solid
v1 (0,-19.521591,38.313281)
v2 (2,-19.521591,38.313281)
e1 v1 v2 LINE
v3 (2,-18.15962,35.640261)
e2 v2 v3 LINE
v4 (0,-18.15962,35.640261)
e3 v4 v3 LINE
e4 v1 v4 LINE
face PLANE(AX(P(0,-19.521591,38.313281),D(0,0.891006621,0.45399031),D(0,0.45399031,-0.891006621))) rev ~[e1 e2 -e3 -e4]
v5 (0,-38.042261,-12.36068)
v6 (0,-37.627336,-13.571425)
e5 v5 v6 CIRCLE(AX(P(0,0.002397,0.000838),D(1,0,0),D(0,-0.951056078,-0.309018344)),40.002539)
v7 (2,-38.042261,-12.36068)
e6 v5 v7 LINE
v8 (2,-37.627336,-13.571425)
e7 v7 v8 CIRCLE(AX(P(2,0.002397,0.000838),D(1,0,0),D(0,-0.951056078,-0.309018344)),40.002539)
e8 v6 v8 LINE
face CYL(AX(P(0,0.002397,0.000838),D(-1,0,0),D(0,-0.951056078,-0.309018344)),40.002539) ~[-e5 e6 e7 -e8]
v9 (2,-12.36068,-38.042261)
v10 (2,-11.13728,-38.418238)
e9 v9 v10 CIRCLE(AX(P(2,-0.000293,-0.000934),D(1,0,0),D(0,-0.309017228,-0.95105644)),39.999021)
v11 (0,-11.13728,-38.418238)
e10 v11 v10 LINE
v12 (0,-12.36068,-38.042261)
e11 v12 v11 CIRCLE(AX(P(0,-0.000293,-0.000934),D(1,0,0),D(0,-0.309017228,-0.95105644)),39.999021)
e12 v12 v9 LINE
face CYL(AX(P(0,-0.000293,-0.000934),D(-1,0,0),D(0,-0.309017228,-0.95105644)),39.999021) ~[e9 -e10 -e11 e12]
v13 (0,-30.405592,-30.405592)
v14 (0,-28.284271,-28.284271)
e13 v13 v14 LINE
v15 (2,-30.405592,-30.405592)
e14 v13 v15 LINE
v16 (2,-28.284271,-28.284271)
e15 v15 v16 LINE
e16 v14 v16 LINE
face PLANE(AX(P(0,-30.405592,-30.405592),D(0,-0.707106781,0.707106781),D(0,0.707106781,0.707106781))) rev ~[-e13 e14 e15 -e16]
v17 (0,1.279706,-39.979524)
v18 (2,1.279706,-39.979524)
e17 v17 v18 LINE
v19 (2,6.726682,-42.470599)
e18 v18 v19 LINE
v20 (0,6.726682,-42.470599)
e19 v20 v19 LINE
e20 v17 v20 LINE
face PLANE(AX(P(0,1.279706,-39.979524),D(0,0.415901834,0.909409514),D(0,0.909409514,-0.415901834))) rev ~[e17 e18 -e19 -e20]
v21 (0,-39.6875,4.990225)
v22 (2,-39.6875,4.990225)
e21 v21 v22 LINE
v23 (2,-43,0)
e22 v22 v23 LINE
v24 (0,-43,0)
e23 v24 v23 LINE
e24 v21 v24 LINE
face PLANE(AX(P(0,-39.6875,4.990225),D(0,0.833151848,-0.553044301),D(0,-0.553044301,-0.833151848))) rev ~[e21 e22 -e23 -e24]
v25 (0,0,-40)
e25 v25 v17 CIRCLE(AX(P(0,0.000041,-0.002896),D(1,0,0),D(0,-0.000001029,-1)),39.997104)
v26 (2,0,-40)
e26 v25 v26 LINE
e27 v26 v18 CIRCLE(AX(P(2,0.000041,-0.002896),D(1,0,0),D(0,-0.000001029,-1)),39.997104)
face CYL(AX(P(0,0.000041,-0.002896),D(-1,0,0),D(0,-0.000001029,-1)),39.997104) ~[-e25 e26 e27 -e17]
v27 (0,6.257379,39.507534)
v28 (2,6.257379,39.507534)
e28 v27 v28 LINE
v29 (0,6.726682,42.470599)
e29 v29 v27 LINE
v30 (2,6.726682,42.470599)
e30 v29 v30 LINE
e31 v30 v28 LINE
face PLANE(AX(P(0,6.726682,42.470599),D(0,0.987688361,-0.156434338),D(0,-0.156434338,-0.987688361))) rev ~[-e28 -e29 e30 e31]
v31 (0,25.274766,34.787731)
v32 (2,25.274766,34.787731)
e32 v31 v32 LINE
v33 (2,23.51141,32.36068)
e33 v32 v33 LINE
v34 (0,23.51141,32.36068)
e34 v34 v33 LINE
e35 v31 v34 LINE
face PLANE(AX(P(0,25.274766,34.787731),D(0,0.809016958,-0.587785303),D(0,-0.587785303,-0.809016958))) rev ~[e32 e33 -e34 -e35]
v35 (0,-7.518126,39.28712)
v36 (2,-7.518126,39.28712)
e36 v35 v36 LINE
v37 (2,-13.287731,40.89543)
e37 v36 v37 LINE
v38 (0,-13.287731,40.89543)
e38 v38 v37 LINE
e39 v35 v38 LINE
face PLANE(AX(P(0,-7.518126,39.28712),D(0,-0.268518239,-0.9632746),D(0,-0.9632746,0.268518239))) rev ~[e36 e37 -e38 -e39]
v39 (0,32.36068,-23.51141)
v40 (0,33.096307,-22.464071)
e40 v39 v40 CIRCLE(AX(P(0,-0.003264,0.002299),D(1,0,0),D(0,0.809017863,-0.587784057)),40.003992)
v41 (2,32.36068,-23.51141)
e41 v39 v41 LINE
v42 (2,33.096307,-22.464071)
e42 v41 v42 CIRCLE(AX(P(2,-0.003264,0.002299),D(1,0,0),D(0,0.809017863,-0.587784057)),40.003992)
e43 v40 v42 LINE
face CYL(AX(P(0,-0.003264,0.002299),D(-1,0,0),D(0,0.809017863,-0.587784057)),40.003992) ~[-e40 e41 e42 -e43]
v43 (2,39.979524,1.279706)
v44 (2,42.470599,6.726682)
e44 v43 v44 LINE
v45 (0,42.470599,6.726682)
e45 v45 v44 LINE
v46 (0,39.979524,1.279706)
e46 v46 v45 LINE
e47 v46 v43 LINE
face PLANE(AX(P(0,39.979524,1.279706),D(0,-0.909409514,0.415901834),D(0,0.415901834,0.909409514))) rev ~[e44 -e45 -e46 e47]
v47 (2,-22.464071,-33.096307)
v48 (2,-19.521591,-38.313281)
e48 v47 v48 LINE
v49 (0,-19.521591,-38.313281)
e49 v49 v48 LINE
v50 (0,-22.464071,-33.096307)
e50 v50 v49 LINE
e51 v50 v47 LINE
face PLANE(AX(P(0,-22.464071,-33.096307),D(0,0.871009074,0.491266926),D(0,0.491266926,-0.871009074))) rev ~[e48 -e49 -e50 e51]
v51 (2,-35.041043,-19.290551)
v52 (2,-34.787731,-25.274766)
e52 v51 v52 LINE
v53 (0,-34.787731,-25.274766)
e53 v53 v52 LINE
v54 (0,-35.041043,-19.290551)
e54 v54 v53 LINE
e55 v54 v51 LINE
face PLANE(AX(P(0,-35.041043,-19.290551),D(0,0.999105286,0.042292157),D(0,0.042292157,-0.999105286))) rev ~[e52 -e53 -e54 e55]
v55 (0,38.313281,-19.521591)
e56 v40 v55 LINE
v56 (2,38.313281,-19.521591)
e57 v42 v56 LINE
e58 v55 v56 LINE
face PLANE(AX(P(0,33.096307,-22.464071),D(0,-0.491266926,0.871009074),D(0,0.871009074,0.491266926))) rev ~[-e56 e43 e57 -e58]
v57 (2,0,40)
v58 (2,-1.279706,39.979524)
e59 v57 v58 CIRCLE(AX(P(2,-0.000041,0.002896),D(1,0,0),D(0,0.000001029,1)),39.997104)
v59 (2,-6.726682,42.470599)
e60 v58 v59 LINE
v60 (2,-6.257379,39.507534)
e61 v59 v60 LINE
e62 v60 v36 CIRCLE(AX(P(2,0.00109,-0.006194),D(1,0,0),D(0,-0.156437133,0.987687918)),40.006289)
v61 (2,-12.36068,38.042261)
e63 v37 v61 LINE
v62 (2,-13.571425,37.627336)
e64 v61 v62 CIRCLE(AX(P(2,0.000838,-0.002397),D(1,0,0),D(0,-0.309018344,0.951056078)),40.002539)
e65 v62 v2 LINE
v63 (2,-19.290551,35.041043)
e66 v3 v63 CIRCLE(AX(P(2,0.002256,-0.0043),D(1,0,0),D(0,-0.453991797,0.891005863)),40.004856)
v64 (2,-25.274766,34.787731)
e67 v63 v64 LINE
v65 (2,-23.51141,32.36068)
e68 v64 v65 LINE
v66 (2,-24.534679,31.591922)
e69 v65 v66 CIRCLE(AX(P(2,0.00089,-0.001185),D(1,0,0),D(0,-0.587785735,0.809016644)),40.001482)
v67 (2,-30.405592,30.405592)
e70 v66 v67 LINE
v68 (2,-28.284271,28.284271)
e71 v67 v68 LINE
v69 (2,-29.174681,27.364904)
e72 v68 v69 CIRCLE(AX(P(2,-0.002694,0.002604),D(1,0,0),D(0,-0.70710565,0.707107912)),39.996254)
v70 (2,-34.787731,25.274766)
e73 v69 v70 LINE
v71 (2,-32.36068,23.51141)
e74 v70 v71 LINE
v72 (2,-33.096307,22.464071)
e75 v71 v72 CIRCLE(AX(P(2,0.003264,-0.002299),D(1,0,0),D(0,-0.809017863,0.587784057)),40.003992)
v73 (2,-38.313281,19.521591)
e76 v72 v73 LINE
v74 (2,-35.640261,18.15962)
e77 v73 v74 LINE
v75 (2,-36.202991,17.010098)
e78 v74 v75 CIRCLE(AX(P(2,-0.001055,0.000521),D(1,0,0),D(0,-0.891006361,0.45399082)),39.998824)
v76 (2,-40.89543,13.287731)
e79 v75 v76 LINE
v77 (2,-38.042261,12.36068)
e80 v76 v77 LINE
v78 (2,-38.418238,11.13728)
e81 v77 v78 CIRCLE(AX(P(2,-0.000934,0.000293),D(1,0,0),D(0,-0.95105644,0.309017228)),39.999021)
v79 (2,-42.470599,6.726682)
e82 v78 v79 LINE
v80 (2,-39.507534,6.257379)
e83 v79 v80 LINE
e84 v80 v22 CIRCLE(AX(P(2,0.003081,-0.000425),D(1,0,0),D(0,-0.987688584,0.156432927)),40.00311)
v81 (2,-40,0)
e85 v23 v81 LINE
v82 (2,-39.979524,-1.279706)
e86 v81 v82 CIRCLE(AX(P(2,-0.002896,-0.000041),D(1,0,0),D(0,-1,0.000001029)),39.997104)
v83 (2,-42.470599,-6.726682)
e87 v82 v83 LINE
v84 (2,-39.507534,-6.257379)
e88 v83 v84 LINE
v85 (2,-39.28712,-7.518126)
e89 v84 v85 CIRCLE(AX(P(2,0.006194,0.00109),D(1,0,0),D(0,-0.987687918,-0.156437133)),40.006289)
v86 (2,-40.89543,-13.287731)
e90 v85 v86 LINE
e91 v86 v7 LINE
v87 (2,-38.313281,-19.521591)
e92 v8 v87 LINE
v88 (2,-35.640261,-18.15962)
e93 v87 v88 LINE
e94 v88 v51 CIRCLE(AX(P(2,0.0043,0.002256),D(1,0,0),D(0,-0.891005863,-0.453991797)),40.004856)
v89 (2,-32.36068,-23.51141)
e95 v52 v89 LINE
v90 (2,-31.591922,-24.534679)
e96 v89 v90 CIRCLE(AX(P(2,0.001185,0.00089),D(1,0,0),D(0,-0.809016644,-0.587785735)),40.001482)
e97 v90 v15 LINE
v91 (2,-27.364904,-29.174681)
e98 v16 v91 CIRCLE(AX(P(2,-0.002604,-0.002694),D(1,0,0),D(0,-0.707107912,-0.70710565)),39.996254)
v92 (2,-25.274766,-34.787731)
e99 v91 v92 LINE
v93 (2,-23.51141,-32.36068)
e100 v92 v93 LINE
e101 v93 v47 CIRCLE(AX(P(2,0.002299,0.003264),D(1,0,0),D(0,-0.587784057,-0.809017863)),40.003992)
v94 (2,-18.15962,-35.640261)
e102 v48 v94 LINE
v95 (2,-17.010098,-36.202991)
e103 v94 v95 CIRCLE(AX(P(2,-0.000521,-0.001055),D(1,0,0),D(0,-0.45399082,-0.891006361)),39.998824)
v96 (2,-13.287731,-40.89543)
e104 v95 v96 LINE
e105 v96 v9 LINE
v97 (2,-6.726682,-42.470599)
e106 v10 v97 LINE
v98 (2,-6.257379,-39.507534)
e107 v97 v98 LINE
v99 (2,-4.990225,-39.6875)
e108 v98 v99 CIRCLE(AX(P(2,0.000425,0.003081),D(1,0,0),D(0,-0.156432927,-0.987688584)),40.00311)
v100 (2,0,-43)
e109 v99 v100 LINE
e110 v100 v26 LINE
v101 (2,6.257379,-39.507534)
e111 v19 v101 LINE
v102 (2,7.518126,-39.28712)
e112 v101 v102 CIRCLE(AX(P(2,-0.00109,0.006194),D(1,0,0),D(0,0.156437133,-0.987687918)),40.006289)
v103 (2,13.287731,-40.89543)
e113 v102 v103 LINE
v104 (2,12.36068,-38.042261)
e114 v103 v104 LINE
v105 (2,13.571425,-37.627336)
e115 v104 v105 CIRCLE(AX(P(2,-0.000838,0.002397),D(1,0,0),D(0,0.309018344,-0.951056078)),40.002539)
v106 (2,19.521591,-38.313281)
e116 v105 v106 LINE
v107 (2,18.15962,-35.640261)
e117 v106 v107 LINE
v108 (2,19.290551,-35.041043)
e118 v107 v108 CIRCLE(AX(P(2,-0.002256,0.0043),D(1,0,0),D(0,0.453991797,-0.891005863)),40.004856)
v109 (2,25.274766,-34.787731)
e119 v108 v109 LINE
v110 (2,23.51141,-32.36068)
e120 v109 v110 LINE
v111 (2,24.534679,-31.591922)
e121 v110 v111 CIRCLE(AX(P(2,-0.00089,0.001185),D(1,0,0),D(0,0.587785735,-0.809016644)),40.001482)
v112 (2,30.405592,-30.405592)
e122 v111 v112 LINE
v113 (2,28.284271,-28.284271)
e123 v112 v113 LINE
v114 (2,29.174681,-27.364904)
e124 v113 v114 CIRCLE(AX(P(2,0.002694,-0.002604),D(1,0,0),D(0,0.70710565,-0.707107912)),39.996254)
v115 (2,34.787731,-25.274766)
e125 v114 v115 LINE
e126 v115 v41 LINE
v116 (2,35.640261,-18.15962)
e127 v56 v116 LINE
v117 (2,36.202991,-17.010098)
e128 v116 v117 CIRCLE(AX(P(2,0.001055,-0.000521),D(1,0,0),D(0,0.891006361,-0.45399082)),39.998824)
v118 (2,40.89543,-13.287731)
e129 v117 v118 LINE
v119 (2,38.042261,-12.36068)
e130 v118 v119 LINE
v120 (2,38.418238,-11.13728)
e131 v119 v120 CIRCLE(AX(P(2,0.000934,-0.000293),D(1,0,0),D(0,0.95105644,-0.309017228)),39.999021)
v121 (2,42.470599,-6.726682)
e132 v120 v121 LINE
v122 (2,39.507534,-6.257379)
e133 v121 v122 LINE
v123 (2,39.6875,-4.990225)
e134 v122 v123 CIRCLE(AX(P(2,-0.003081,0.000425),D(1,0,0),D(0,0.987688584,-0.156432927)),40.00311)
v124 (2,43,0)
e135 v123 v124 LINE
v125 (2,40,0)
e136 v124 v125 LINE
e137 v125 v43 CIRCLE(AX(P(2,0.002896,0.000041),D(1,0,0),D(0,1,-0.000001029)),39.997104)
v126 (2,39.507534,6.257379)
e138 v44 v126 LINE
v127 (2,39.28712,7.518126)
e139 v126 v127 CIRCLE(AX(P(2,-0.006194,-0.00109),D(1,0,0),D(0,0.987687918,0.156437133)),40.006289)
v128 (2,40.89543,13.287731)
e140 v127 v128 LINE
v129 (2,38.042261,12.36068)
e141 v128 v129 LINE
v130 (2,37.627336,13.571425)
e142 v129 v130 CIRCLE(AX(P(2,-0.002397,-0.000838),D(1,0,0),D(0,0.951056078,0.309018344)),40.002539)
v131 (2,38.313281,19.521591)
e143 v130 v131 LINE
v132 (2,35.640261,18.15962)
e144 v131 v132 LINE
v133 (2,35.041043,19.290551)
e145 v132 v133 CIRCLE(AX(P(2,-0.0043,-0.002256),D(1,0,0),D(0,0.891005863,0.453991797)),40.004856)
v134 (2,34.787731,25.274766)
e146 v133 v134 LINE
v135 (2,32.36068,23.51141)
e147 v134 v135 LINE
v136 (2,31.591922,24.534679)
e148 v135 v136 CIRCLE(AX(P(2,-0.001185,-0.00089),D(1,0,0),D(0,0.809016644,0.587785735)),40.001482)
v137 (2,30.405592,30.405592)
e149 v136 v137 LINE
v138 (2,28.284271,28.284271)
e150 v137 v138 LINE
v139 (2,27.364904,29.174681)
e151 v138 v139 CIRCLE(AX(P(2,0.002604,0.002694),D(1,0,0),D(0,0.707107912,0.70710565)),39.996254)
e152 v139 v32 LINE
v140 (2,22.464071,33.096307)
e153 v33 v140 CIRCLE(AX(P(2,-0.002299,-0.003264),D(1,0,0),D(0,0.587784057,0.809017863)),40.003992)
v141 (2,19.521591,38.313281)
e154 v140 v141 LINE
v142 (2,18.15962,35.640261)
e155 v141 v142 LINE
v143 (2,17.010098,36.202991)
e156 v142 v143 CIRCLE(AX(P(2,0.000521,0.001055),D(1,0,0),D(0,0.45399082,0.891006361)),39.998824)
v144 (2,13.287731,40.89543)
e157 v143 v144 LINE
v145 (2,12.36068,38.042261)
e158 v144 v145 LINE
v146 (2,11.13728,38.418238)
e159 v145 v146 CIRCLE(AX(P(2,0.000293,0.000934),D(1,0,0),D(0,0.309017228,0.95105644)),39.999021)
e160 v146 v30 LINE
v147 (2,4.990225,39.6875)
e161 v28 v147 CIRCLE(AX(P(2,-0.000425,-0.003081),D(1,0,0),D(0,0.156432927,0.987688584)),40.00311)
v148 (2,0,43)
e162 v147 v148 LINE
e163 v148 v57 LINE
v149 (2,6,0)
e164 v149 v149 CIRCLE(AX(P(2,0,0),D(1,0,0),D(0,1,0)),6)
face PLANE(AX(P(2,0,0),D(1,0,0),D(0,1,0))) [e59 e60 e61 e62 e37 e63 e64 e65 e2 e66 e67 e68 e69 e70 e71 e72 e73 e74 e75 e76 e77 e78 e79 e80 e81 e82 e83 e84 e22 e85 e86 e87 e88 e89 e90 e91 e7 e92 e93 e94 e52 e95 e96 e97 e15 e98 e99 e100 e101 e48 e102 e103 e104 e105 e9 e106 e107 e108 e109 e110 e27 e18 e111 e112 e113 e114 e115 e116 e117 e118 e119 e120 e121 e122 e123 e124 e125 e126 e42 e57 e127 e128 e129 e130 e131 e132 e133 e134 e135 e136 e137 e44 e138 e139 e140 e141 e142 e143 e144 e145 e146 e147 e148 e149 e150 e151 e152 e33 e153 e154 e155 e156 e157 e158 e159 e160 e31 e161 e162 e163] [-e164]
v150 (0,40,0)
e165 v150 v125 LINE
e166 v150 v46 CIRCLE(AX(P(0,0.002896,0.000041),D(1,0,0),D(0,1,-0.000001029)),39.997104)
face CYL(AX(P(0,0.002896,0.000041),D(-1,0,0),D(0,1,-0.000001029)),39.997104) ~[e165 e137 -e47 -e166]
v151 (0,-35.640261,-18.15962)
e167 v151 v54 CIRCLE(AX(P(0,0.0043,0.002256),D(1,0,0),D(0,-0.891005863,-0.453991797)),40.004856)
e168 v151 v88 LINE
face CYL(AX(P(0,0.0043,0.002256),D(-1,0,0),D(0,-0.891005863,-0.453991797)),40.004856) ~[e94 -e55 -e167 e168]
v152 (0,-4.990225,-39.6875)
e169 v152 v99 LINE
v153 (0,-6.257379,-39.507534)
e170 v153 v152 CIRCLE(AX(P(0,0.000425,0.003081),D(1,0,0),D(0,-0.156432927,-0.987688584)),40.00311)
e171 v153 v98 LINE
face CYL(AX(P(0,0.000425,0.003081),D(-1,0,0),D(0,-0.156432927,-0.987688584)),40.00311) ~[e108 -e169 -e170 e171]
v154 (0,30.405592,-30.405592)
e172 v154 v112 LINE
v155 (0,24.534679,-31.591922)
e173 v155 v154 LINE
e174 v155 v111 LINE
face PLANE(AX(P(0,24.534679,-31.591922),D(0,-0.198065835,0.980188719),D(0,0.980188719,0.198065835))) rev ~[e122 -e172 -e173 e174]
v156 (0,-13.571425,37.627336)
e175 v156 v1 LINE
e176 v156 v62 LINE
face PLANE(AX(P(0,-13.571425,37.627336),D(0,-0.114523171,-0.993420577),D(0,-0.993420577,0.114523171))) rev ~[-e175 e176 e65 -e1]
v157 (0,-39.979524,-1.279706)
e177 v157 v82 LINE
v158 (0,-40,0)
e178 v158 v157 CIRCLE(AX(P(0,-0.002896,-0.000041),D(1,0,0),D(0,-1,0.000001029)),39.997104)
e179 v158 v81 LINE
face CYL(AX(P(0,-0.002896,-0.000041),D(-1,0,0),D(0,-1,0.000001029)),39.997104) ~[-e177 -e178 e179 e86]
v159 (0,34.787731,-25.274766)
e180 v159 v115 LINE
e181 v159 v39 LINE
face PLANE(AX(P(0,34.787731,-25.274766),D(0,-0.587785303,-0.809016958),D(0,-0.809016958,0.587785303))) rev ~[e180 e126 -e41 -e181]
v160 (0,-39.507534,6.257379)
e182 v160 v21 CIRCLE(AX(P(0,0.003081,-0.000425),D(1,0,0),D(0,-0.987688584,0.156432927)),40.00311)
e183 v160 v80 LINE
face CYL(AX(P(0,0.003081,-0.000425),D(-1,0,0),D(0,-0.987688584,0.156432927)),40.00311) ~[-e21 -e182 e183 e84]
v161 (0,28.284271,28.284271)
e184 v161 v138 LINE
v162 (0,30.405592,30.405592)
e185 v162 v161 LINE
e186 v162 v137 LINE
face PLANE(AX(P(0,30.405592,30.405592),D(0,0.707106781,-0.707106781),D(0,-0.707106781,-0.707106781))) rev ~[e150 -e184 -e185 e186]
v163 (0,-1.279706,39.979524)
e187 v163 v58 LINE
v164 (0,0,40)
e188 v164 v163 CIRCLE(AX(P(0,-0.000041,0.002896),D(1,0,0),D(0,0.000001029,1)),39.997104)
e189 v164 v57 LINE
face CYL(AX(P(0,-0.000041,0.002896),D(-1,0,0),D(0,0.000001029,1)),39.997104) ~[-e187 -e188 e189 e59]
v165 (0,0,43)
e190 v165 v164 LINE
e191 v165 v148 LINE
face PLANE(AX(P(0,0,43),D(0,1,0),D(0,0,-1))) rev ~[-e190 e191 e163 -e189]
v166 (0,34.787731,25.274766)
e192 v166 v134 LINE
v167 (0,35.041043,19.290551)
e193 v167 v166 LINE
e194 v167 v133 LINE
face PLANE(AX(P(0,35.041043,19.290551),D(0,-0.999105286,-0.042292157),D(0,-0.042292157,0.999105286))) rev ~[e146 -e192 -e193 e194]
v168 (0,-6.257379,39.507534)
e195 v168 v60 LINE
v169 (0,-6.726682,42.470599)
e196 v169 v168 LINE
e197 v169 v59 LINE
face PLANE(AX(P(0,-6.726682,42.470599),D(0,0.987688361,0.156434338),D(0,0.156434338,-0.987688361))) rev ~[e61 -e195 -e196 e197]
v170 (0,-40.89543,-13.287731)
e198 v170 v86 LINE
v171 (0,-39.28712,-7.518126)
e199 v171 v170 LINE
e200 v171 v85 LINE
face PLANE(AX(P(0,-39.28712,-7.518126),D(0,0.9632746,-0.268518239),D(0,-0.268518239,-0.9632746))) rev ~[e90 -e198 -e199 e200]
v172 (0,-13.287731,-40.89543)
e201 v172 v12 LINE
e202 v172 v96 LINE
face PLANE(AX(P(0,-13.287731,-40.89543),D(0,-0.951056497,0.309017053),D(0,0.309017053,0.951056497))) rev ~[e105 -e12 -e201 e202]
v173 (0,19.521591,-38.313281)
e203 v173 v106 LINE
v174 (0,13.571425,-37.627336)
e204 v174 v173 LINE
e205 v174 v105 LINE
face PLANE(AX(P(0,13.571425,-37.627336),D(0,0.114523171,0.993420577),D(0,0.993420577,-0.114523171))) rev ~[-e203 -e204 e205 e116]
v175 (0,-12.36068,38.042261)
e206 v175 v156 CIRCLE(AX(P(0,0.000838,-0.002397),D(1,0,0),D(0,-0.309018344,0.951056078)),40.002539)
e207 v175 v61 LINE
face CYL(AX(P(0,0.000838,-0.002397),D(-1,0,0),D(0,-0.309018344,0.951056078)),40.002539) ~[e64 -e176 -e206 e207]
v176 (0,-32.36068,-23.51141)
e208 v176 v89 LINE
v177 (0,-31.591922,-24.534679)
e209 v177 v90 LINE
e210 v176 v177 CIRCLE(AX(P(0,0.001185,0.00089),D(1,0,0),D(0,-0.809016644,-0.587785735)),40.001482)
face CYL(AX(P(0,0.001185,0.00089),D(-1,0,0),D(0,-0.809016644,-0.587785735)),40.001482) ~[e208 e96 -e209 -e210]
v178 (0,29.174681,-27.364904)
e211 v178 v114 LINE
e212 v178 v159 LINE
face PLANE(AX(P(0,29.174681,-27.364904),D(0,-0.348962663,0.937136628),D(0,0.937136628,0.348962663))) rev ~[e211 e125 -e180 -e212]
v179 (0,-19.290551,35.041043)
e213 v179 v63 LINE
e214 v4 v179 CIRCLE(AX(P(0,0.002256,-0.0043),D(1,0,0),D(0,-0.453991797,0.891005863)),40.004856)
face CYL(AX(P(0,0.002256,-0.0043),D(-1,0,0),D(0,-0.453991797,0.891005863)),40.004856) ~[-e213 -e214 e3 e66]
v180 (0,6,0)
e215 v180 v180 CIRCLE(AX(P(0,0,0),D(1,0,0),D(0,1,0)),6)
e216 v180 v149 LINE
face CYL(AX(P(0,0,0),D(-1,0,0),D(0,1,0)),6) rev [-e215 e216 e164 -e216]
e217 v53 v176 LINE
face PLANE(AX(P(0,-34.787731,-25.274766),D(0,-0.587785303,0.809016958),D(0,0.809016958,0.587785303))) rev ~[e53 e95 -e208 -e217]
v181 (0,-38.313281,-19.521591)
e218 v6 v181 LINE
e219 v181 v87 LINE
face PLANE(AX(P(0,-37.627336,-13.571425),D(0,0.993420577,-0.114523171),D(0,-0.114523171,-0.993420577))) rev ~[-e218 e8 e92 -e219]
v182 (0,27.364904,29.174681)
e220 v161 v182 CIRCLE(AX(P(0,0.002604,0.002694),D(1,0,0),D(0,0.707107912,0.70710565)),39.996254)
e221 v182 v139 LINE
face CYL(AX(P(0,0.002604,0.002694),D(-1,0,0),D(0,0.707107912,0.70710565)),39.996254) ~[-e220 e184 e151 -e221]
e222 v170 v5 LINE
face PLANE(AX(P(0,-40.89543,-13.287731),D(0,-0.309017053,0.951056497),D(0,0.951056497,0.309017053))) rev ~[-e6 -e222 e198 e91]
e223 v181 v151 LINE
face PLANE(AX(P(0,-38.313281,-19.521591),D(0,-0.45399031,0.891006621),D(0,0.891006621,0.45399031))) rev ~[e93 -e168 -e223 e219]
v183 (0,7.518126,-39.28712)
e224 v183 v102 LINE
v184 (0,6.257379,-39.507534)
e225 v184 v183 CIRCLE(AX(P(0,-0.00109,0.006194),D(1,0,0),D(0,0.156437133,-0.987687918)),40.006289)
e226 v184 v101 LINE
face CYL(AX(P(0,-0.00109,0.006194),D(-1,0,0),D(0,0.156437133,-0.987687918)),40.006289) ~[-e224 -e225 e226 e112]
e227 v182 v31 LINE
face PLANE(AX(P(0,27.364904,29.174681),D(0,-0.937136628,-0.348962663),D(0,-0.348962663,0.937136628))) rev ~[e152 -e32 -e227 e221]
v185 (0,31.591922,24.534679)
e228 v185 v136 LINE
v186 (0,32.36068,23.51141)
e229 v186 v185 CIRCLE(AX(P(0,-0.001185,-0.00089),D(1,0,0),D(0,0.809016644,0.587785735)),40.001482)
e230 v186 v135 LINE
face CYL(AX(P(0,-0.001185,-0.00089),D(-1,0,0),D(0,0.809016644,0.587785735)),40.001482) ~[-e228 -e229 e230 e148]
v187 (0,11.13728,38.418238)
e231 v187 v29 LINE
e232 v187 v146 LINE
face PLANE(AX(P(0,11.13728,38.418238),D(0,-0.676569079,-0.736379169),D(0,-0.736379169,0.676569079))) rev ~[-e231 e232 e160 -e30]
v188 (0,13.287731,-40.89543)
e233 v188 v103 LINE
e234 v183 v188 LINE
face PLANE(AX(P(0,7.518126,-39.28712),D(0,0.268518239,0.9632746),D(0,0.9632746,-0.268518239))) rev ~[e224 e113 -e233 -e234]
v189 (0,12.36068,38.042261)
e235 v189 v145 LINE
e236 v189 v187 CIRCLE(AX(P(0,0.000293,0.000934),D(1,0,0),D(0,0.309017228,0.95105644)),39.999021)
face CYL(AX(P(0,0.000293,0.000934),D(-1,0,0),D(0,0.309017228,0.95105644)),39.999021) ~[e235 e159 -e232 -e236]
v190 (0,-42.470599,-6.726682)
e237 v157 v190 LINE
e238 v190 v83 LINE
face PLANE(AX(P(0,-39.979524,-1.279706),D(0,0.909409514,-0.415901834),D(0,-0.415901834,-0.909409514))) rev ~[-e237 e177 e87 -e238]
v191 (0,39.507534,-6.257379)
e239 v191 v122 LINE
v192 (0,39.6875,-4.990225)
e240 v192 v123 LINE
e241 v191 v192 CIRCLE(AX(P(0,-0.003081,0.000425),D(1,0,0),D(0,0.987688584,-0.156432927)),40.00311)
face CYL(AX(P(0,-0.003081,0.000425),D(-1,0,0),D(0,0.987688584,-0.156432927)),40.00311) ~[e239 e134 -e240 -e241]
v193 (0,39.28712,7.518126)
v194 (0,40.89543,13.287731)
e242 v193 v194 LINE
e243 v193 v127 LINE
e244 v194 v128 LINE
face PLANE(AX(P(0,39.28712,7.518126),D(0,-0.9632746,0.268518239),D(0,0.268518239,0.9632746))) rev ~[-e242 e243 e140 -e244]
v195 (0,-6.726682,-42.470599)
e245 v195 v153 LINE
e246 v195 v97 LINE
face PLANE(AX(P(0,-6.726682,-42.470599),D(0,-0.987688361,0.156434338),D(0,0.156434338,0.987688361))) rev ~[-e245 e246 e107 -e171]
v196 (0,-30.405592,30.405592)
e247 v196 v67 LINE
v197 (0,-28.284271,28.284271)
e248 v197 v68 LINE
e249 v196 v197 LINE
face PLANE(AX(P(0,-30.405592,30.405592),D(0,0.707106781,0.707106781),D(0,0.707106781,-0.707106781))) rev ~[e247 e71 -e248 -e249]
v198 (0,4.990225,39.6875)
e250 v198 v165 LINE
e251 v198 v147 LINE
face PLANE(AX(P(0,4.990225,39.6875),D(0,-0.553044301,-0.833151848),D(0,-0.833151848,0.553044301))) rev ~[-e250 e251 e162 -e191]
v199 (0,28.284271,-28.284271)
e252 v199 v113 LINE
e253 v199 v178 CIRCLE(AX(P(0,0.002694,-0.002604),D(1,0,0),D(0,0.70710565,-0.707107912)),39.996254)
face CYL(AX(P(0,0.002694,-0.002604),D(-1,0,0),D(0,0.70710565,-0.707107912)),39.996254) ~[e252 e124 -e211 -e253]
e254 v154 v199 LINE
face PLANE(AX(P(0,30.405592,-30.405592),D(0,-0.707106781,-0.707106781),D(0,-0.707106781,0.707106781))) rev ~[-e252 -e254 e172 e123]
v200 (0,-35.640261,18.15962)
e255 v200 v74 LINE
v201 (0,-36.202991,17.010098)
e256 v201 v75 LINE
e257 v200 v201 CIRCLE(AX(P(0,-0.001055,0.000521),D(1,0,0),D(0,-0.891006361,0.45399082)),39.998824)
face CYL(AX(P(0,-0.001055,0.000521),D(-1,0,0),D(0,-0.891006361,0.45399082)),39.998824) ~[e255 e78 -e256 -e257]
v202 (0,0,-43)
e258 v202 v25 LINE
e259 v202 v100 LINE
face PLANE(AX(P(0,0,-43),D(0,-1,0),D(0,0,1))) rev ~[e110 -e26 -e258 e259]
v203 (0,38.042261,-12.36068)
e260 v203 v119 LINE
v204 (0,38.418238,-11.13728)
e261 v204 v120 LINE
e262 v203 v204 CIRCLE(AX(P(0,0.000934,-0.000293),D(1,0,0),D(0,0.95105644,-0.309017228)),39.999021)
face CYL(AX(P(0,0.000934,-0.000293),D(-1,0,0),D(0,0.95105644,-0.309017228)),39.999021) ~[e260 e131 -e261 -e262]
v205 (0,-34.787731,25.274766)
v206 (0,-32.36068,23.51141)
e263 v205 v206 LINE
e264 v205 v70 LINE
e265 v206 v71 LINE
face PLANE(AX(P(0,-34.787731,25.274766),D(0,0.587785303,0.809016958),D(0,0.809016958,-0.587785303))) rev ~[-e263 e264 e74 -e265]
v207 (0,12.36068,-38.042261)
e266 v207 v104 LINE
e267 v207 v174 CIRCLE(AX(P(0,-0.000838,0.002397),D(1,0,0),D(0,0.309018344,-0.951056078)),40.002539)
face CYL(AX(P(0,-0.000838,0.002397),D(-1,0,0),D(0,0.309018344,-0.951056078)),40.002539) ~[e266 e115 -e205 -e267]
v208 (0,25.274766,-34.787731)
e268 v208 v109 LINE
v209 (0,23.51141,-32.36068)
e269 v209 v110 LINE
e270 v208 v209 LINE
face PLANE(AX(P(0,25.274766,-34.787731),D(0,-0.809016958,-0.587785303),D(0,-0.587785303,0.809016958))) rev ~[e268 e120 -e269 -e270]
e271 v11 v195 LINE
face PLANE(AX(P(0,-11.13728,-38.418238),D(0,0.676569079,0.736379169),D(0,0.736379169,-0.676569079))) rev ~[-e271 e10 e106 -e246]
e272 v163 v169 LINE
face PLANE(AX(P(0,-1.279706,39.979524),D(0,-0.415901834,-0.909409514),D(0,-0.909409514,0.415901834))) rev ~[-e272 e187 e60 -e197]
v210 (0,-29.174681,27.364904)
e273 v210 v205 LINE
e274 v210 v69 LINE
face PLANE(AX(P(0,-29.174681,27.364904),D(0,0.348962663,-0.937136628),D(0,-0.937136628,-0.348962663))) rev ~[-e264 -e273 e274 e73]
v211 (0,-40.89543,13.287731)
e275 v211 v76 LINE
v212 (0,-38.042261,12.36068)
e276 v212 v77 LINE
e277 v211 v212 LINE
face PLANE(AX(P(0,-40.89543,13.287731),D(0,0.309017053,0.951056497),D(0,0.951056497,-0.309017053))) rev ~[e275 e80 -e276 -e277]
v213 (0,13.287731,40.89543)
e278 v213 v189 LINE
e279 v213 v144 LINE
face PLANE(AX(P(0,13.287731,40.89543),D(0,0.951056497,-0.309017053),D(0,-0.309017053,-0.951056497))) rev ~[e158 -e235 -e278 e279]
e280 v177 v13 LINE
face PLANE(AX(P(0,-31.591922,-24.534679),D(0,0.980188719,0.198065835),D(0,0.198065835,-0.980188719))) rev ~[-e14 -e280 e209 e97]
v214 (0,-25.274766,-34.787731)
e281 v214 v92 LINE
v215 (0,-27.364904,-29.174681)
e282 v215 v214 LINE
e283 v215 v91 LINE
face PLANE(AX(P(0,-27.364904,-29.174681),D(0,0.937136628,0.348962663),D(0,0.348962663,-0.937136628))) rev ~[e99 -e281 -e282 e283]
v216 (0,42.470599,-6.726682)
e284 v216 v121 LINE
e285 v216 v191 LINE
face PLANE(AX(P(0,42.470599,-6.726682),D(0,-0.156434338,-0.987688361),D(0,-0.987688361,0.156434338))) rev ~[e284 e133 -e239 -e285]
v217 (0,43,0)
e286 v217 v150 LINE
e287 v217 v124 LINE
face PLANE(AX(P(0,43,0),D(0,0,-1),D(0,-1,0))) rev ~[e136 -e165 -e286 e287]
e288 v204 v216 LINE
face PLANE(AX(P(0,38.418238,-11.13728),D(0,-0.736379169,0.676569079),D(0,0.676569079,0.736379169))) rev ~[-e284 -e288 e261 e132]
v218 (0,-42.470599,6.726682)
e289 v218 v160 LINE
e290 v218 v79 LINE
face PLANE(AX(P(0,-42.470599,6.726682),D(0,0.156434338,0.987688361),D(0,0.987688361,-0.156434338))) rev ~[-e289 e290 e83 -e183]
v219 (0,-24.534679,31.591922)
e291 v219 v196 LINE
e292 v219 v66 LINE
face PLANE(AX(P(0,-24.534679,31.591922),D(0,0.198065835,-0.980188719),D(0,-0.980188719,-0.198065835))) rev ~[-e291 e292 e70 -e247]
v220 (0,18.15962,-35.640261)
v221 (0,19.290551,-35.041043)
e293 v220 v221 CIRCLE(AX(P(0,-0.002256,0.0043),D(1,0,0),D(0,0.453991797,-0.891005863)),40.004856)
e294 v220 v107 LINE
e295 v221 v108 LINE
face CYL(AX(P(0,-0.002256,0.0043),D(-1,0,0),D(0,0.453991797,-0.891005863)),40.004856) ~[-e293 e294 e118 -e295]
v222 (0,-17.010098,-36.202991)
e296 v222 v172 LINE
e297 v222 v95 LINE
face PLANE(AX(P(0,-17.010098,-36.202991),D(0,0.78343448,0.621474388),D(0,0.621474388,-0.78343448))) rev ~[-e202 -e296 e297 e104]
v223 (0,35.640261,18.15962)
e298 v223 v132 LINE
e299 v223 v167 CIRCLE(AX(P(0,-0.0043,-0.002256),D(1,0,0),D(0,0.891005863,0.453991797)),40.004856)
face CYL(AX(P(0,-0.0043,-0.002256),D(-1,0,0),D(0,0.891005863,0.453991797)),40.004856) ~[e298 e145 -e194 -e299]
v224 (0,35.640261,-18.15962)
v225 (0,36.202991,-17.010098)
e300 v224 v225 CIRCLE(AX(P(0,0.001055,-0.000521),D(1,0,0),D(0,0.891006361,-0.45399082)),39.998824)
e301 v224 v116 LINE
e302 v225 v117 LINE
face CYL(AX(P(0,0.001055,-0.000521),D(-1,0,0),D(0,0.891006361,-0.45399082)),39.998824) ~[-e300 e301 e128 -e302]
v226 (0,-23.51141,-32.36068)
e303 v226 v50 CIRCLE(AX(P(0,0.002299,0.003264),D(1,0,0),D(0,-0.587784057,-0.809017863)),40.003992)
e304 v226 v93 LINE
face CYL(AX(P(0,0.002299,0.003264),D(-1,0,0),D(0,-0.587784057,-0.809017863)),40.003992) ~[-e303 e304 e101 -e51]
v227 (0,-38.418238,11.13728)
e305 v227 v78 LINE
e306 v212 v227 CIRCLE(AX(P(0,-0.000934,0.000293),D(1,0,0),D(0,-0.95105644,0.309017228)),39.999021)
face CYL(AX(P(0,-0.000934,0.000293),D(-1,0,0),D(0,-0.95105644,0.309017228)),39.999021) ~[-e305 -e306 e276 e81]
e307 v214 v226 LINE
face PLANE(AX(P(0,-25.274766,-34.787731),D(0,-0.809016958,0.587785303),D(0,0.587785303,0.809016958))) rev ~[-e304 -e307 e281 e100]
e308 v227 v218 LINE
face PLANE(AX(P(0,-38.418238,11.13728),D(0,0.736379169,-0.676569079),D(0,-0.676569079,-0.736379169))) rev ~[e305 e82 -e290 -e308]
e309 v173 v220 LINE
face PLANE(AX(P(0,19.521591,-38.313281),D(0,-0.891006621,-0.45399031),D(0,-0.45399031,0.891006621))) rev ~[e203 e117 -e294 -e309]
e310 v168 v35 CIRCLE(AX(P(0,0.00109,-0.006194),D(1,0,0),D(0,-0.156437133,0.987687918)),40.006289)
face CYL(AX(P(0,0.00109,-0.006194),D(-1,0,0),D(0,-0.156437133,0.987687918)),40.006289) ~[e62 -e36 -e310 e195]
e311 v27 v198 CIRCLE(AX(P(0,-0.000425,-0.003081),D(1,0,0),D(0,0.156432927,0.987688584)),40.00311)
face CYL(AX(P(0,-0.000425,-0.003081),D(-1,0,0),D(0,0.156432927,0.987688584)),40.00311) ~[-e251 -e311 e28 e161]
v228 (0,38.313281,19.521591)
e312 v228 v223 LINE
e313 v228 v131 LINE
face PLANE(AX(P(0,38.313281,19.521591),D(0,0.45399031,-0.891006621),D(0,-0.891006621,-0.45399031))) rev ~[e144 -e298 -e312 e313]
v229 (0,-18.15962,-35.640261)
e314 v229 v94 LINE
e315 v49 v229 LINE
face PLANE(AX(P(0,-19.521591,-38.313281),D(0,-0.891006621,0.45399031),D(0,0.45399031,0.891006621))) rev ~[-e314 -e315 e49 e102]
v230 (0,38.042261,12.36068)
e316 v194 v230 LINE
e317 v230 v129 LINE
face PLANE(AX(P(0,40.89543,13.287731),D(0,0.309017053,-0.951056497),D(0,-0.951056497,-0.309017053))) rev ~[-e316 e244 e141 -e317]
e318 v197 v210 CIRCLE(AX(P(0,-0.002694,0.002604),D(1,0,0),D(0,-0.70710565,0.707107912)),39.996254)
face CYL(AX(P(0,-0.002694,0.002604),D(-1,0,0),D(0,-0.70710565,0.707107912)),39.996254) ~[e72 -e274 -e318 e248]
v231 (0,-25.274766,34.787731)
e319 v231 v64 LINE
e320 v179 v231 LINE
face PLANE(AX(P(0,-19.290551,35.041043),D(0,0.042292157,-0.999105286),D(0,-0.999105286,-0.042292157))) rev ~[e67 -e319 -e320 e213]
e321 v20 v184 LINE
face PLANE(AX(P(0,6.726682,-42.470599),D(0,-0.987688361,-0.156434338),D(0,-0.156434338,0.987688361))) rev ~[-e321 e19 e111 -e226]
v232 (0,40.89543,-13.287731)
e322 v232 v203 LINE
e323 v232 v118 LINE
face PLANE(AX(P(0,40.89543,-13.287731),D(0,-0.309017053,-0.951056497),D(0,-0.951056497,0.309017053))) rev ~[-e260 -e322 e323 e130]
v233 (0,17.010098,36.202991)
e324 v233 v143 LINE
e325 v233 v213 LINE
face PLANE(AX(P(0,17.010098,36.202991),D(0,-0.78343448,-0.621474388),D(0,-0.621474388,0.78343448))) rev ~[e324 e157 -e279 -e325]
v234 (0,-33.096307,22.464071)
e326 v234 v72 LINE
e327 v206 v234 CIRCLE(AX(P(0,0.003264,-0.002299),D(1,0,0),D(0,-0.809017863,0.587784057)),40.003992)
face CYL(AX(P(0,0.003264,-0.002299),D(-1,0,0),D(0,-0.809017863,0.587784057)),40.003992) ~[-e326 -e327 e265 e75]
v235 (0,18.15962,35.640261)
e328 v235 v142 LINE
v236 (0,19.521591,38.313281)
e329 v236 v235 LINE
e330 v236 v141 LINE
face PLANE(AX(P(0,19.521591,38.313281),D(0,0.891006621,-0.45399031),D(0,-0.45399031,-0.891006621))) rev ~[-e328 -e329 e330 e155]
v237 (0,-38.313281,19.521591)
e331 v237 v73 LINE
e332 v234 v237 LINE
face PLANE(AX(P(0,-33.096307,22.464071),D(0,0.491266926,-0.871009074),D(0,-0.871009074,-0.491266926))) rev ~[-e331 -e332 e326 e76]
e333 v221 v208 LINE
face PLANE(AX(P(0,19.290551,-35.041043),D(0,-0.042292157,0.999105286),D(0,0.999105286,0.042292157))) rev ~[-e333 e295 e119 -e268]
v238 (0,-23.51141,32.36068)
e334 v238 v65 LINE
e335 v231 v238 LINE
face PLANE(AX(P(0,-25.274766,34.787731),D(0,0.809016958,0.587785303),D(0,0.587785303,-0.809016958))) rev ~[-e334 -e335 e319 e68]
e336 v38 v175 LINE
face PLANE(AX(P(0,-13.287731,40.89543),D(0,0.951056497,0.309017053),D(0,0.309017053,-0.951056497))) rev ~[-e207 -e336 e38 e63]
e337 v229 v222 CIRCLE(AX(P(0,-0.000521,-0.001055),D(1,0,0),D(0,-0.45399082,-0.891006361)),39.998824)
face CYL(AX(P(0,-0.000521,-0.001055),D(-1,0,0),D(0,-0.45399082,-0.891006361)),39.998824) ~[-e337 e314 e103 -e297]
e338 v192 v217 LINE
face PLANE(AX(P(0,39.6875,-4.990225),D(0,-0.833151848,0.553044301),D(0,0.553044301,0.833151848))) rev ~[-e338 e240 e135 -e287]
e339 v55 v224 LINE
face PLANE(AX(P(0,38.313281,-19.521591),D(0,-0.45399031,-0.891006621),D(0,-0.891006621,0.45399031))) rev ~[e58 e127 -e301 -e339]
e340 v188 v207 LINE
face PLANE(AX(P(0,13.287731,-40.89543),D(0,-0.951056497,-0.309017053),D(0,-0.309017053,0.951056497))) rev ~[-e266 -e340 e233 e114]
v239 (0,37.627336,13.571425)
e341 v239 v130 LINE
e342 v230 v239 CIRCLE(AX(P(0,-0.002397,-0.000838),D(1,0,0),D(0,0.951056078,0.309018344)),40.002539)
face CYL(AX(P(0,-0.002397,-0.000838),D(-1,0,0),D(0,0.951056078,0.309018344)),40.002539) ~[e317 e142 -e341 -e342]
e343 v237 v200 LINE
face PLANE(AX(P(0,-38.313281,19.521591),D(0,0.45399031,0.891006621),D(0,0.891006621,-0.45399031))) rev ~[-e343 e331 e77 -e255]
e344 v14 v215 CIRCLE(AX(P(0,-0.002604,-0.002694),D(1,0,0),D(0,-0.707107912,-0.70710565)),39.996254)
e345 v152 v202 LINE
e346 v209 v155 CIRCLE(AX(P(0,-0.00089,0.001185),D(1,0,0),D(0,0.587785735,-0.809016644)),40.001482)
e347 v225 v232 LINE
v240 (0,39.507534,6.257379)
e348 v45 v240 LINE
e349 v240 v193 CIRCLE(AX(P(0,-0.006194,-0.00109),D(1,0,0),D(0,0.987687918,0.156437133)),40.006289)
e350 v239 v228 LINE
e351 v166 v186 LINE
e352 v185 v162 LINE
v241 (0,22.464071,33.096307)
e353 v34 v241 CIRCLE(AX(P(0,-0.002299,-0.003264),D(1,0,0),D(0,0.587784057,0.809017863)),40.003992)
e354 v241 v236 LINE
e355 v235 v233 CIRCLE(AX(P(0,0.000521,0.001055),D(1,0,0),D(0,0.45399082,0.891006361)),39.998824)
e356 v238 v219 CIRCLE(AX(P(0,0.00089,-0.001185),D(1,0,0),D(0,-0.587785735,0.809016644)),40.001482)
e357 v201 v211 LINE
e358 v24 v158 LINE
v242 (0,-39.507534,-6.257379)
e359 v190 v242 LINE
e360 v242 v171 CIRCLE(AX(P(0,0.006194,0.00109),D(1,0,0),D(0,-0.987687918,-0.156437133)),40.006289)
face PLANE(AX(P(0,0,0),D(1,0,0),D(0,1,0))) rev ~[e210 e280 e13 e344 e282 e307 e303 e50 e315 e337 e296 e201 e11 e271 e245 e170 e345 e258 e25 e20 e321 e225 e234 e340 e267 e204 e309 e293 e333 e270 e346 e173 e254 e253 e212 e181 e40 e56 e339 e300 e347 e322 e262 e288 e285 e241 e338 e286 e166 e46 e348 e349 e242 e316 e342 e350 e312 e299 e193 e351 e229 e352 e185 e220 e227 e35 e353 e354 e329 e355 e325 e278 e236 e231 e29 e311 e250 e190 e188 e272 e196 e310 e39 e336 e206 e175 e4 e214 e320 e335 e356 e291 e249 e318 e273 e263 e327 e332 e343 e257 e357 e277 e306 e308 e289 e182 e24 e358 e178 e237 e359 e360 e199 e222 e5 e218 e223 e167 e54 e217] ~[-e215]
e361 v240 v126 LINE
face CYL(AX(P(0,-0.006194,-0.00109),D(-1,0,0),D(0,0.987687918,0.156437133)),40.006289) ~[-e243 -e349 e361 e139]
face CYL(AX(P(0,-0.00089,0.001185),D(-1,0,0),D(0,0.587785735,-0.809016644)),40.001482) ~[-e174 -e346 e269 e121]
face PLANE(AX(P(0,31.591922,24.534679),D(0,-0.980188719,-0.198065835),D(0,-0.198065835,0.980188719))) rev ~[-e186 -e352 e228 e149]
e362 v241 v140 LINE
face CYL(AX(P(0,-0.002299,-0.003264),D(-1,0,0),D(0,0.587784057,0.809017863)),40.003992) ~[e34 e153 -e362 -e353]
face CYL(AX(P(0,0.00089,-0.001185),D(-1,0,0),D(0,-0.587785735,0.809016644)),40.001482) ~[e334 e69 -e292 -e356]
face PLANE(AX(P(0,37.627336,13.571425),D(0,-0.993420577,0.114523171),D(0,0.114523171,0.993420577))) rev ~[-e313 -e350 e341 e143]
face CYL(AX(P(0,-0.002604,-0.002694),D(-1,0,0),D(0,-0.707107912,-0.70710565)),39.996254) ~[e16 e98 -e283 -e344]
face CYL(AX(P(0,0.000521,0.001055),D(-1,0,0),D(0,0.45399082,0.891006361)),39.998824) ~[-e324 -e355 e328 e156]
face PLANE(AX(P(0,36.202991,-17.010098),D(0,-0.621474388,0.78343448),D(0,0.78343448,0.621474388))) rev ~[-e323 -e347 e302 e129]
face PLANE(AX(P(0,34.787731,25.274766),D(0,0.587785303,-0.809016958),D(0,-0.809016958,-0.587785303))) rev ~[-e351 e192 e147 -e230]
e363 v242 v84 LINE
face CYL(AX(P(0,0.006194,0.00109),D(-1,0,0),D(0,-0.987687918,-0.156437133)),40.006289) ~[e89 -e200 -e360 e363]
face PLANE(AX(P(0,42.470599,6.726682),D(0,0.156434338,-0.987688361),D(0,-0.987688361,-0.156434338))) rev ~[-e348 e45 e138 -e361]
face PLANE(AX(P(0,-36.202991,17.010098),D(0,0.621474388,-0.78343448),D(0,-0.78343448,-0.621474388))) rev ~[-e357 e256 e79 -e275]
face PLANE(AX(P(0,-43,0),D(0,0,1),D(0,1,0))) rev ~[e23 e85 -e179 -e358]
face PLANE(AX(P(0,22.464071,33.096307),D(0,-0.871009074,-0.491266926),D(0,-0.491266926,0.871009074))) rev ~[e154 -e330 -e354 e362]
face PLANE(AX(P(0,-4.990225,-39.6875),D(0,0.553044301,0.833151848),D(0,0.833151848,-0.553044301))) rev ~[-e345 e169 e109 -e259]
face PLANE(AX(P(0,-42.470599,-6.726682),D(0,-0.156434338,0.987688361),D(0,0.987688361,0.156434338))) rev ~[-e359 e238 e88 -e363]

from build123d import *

# Parameters (mm, degrees)
F0_R     = 6
F1_DEPTH = 2


with BuildPart() as f1:
    # F0 (on Right) → F1 (new body)
    with BuildSketch(Plane.YZ):
        with BuildLine():
            ThreePointArc((39.6875, -4.990225), (39.921799, -2.5), (40, 0))
            ThreePointArc((40, 0), (39.994881, 0.639935), (39.979524, 1.279706))
            ThreePointArc((39.979524, 1.279706), (39.821381, 3.775924), (39.507534, 6.257379))
            ThreePointArc((39.507534, 6.257379), (39.402369, 6.888634), (39.28712, 7.518126))
            ThreePointArc((39.28712, 7.518126), (38.740429, 9.958873), (38.042261, 12.36068))
            ThreePointArc((38.042261, 12.36068), (37.839641, 12.967712), (37.627336, 13.571425))
            ThreePointArc((37.627336, 13.571425), (36.705559, 15.896601), (35.640261, 18.15962))
            ThreePointArc((35.640261, 18.15962), (35.345175, 18.727482), (35.041043, 19.290551))
            ThreePointArc((35.041043, 19.290551), (33.766877, 21.442902), (32.36068, 23.51141))
            ThreePointArc((32.36068, 23.51141), (31.980394, 24.026119), (31.591922, 24.534679))
            ThreePointArc((31.591922, 24.534679), (29.996741, 26.461208), (28.284271, 28.284271))
            ThreePointArc((28.284271, 28.284271), (27.828149, 28.733154), (27.364904, 29.174681))
            ThreePointArc((27.364904, 29.174681), (25.487987, 30.82795), (23.51141, 32.36068))
            ThreePointArc((23.51141, 32.36068), (22.990683, 32.732682), (22.464071, 33.096307))
            ThreePointArc((22.464071, 33.096307), (20.351634, 34.435607), (18.15962, 35.640261))
            ThreePointArc((18.15962, 35.640261), (17.58711, 35.926224), (17.010098, 36.202991))
            ThreePointArc((17.010098, 36.202991), (14.714155, 37.195344), (12.36068, 38.042261))
            ThreePointArc((12.36068, 38.042261), (11.750484, 38.235143), (11.13728, 38.418238))
            ThreePointArc((11.13728, 38.418238), (8.714366, 39.039209), (6.257379, 39.507534))
            ThreePointArc((6.257379, 39.507534), (5.624522, 39.602585), (4.990225, 39.6875))
            ThreePointArc((4.990225, 39.6875), (2.5, 39.921799), (0, 40))
            ThreePointArc((0, 40), (-0.639935, 39.994881), (-1.279706, 39.979524))
            ThreePointArc((-1.279706, 39.979524), (-3.775924, 39.821381), (-6.257379, 39.507534))
            ThreePointArc((-6.257379, 39.507534), (-6.888634, 39.402369), (-7.518126, 39.28712))
            ThreePointArc((-7.518126, 39.28712), (-9.958873, 38.740429), (-12.36068, 38.042261))
            ThreePointArc((-12.36068, 38.042261), (-12.967712, 37.839641), (-13.571425, 37.627336))
            ThreePointArc((-13.571425, 37.627336), (-15.896601, 36.705559), (-18.15962, 35.640261))
            ThreePointArc((-18.15962, 35.640261), (-18.727482, 35.345175), (-19.290551, 35.041043))
            ThreePointArc((-19.290551, 35.041043), (-21.442902, 33.766877), (-23.51141, 32.36068))
            ThreePointArc((-23.51141, 32.36068), (-24.026119, 31.980394), (-24.534679, 31.591922))
            ThreePointArc((-24.534679, 31.591922), (-26.461208, 29.996741), (-28.284271, 28.284271))
            ThreePointArc((-28.284271, 28.284271), (-28.733154, 27.828149), (-29.174681, 27.364904))
            ThreePointArc((-29.174681, 27.364904), (-30.82795, 25.487987), (-32.36068, 23.51141))
            ThreePointArc((-32.36068, 23.51141), (-32.732682, 22.990683), (-33.096307, 22.464071))
            ThreePointArc((-33.096307, 22.464071), (-34.435607, 20.351634), (-35.640261, 18.15962))
            ThreePointArc((-35.640261, 18.15962), (-35.926224, 17.58711), (-36.202991, 17.010098))
            ThreePointArc((-36.202991, 17.010098), (-37.195344, 14.714155), (-38.042261, 12.36068))
            ThreePointArc((-38.042261, 12.36068), (-38.235143, 11.750484), (-38.418238, 11.13728))
            ThreePointArc((-38.418238, 11.13728), (-39.039209, 8.714366), (-39.507534, 6.257379))
            ThreePointArc((-39.507534, 6.257379), (-39.602585, 5.624522), (-39.6875, 4.990225))
            ThreePointArc((-39.6875, 4.990225), (-39.921799, 2.5), (-40, 0))
            ThreePointArc((-40, 0), (-39.994881, -0.639935), (-39.979524, -1.279706))
            ThreePointArc((-39.979524, -1.279706), (-39.821381, -3.775924), (-39.507534, -6.257379))
            ThreePointArc((-39.507534, -6.257379), (-39.402369, -6.888634), (-39.28712, -7.518126))
            ThreePointArc((-39.28712, -7.518126), (-38.740429, -9.958873), (-38.042261, -12.36068))
            ThreePointArc((-38.042261, -12.36068), (-37.839641, -12.967712), (-37.627336, -13.571425))
            ThreePointArc((-37.627336, -13.571425), (-36.705559, -15.896601), (-35.640261, -18.15962))
            ThreePointArc((-35.640261, -18.15962), (-35.345175, -18.727482), (-35.041043, -19.290551))
            ThreePointArc((-35.041043, -19.290551), (-33.766877, -21.442902), (-32.36068, -23.51141))
            ThreePointArc((-32.36068, -23.51141), (-31.980394, -24.026119), (-31.591922, -24.534679))
            ThreePointArc((-31.591922, -24.534679), (-29.996741, -26.461208), (-28.284271, -28.284271))
            ThreePointArc((-28.284271, -28.284271), (-27.828149, -28.733154), (-27.364904, -29.174681))
            ThreePointArc((-27.364904, -29.174681), (-25.487987, -30.82795), (-23.51141, -32.36068))
            ThreePointArc((-23.51141, -32.36068), (-22.990683, -32.732682), (-22.464071, -33.096307))
            ThreePointArc((-22.464071, -33.096307), (-20.351634, -34.435607), (-18.15962, -35.640261))
            ThreePointArc((-18.15962, -35.640261), (-17.58711, -35.926224), (-17.010098, -36.202991))
            ThreePointArc((-17.010098, -36.202991), (-14.714155, -37.195344), (-12.36068, -38.042261))
            ThreePointArc((-12.36068, -38.042261), (-11.750484, -38.235143), (-11.13728, -38.418238))
            ThreePointArc((-11.13728, -38.418238), (-8.714366, -39.039209), (-6.257379, -39.507534))
            ThreePointArc((-6.257379, -39.507534), (-5.624522, -39.602585), (-4.990225, -39.6875))
            ThreePointArc((-4.990225, -39.6875), (-2.5, -39.921799), (0, -40))
            ThreePointArc((0, -40), (0.639935, -39.994881), (1.279706, -39.979524))
            ThreePointArc((1.279706, -39.979524), (3.775924, -39.821381), (6.257379, -39.507534))
            ThreePointArc((6.257379, -39.507534), (6.888634, -39.402369), (7.518126, -39.28712))
            ThreePointArc((7.518126, -39.28712), (9.958873, -38.740429), (12.36068, -38.042261))
            ThreePointArc((12.36068, -38.042261), (12.967712, -37.839641), (13.571425, -37.627336))
            ThreePointArc((13.571425, -37.627336), (15.896601, -36.705559), (18.15962, -35.640261))
            ThreePointArc((18.15962, -35.640261), (18.727482, -35.345175), (19.290551, -35.041043))
            ThreePointArc((19.290551, -35.041043), (21.442902, -33.766877), (23.51141, -32.36068))
            ThreePointArc((23.51141, -32.36068), (24.026119, -31.980394), (24.534679, -31.591922))
            ThreePointArc((24.534679, -31.591922), (26.461208, -29.996741), (28.284271, -28.284271))
            ThreePointArc((28.284271, -28.284271), (28.733154, -27.828149), (29.174681, -27.364904))
            ThreePointArc((29.174681, -27.364904), (30.82795, -25.487987), (32.36068, -23.51141))
            ThreePointArc((32.36068, -23.51141), (32.732682, -22.990683), (33.096307, -22.464071))
            ThreePointArc((33.096307, -22.464071), (34.435607, -20.351634), (35.640261, -18.15962))
            ThreePointArc((35.640261, -18.15962), (35.926224, -17.58711), (36.202991, -17.010098))
            ThreePointArc((36.202991, -17.010098), (37.195344, -14.714155), (38.042261, -12.36068))
            ThreePointArc((38.042261, -12.36068), (38.235143, -11.750484), (38.418238, -11.13728))
            ThreePointArc((38.418238, -11.13728), (39.039209, -8.714366), (39.507534, -6.257379))
            ThreePointArc((39.507534, -6.257379), (39.602585, -5.624522), (39.6875, -4.990225))
        make_face()
        Circle(F0_R, mode=Mode.SUBTRACT)
        with BuildLine():
            Line((-19.521591, -38.313281), (-18.15962, -35.640261))
            ThreePointArc((-18.15962, -35.640261), (-20.351634, -34.435607), (-22.464071, -33.096307))
            Line((-22.464071, -33.096307), (-19.521591, -38.313281))
        make_face()
        with BuildLine():
            ThreePointArc((-40, 0), (-39.921799, 2.5), (-39.6875, 4.990225))
            Line((-39.6875, 4.990225), (-43, 0))
            Line((-43, 0), (-40, 0))
        make_face()
        with BuildLine():
            Line((34.787731, -25.274766), (32.36068, -23.51141))
            ThreePointArc((32.36068, -23.51141), (30.82795, -25.487987), (29.174681, -27.364904))
            Line((29.174681, -27.364904), (34.787731, -25.274766))
        make_face()
        with BuildLine():
            Line((-42.470599, -6.726682), (-39.507534, -6.257379))
            ThreePointArc((-39.507534, -6.257379), (-39.821381, -3.775924), (-39.979524, -1.279706))
            Line((-39.979524, -1.279706), (-42.470599, -6.726682))
        make_face()
        with BuildLine():
            Line((0, -43), (0, -40))
            ThreePointArc((0, -40), (-2.5, -39.921799), (-4.990225, -39.6875))
            Line((-4.990225, -39.6875), (0, -43))
        make_face()
        with BuildLine():
            Line((38.313281, -19.521591), (35.640261, -18.15962))
            ThreePointArc((35.640261, -18.15962), (34.435607, -20.351634), (33.096307, -22.464071))
            Line((33.096307, -22.464071), (38.313281, -19.521591))
        make_face()
        with BuildLine():
            Line((-13.287731, -40.89543), (-12.36068, -38.042261))
            ThreePointArc((-12.36068, -38.042261), (-14.714155, -37.195344), (-17.010098, -36.202991))
            Line((-17.010098, -36.202991), (-13.287731, -40.89543))
        make_face()
        with BuildLine():
            Line((-40.89543, -13.287731), (-38.042261, -12.36068))
            ThreePointArc((-38.042261, -12.36068), (-38.740429, -9.958873), (-39.28712, -7.518126))
            Line((-39.28712, -7.518126), (-40.89543, -13.287731))
        make_face()
        with BuildLine():
            Line((40.89543, -13.287731), (38.042261, -12.36068))
            ThreePointArc((38.042261, -12.36068), (37.195344, -14.714155), (36.202991, -17.010098))
            Line((36.202991, -17.010098), (40.89543, -13.287731))
        make_face()
        with BuildLine():
            Line((6.726682, -42.470599), (6.257379, -39.507534))
            ThreePointArc((6.257379, -39.507534), (3.775924, -39.821381), (1.279706, -39.979524))
            Line((1.279706, -39.979524), (6.726682, -42.470599))
        make_face()
        with BuildLine():
            Line((-6.726682, -42.470599), (-6.257379, -39.507534))
            ThreePointArc((-6.257379, -39.507534), (-8.714366, -39.039209), (-11.13728, -38.418238))
            Line((-11.13728, -38.418238), (-6.726682, -42.470599))
        make_face()
        with BuildLine():
            Line((42.470599, -6.726682), (39.507534, -6.257379))
            ThreePointArc((39.507534, -6.257379), (39.039209, -8.714366), (38.418238, -11.13728))
            Line((38.418238, -11.13728), (42.470599, -6.726682))
        make_face()
        with BuildLine():
            Line((-38.313281, -19.521591), (-35.640261, -18.15962))
            ThreePointArc((-35.640261, -18.15962), (-36.705559, -15.896601), (-37.627336, -13.571425))
            Line((-37.627336, -13.571425), (-38.313281, -19.521591))
        make_face()
        with BuildLine():
            ThreePointArc((-32.36068, 23.51141), (-30.82795, 25.487987), (-29.174681, 27.364904))
            Line((-29.174681, 27.364904), (-34.787731, 25.274766))
            Line((-34.787731, 25.274766), (-32.36068, 23.51141))
        make_face()
        with BuildLine():
            ThreePointArc((-23.51141, 32.36068), (-21.442902, 33.766877), (-19.290551, 35.041043))
            Line((-19.290551, 35.041043), (-25.274766, 34.787731))
            Line((-25.274766, 34.787731), (-23.51141, 32.36068))
        make_face()
        with BuildLine():
            ThreePointArc((-28.284271, 28.284271), (-26.461208, 29.996741), (-24.534679, 31.591922))
            Line((-24.534679, 31.591922), (-30.405592, 30.405592))
            Line((-30.405592, 30.405592), (-28.284271, 28.284271))
        make_face()
        with BuildLine():
            ThreePointArc((-35.640261, 18.15962), (-34.435607, 20.351634), (-33.096307, 22.464071))
            Line((-33.096307, 22.464071), (-38.313281, 19.521591))
            Line((-38.313281, 19.521591), (-35.640261, 18.15962))
        make_face()
        with BuildLine():
            Line((19.521591, -38.313281), (18.15962, -35.640261))
            ThreePointArc((18.15962, -35.640261), (15.896601, -36.705559), (13.571425, -37.627336))
            Line((13.571425, -37.627336), (19.521591, -38.313281))
        make_face()
        with BuildLine():
            ThreePointArc((39.507534, 6.257379), (39.821381, 3.775924), (39.979524, 1.279706))
            Line((39.979524, 1.279706), (42.470599, 6.726682))
            Line((42.470599, 6.726682), (39.507534, 6.257379))
        make_face()
        with BuildLine():
            ThreePointArc((38.042261, 12.36068), (38.740429, 9.958873), (39.28712, 7.518126))
            Line((39.28712, 7.518126), (40.89543, 13.287731))
            Line((40.89543, 13.287731), (38.042261, 12.36068))
        make_face()
        with BuildLine():
            ThreePointArc((35.640261, 18.15962), (36.705559, 15.896601), (37.627336, 13.571425))
            Line((37.627336, 13.571425), (38.313281, 19.521591))
            Line((38.313281, 19.521591), (35.640261, 18.15962))
        make_face()
        with BuildLine():
            ThreePointArc((32.36068, 23.51141), (33.766877, 21.442902), (35.041043, 19.290551))
            Line((35.041043, 19.290551), (34.787731, 25.274766))
            Line((34.787731, 25.274766), (32.36068, 23.51141))
        make_face()
        with BuildLine():
            ThreePointArc((28.284271, 28.284271), (29.996741, 26.461208), (31.591922, 24.534679))
            Line((31.591922, 24.534679), (30.405592, 30.405592))
            Line((30.405592, 30.405592), (28.284271, 28.284271))
        make_face()
        with BuildLine():
            ThreePointArc((23.51141, 32.36068), (25.487987, 30.82795), (27.364904, 29.174681))
            Line((27.364904, 29.174681), (25.274766, 34.787731))
            Line((25.274766, 34.787731), (23.51141, 32.36068))
        make_face()
        with BuildLine():
            ThreePointArc((18.15962, 35.640261), (20.351634, 34.435607), (22.464071, 33.096307))
            Line((22.464071, 33.096307), (19.521591, 38.313281))
            Line((19.521591, 38.313281), (18.15962, 35.640261))
        make_face()
        with BuildLine():
            ThreePointArc((12.36068, 38.042261), (14.714155, 37.195344), (17.010098, 36.202991))
            Line((17.010098, 36.202991), (13.287731, 40.89543))
            Line((13.287731, 40.89543), (12.36068, 38.042261))
        make_face()
        with BuildLine():
            ThreePointArc((6.257379, 39.507534), (8.714366, 39.039209), (11.13728, 38.418238))
            Line((11.13728, 38.418238), (6.726682, 42.470599))
            Line((6.726682, 42.470599), (6.257379, 39.507534))
        make_face()
        with BuildLine():
            ThreePointArc((0, 40), (2.5, 39.921799), (4.990225, 39.6875))
            Line((4.990225, 39.6875), (0, 43))
            Line((0, 43), (0, 40))
        make_face()
        with BuildLine():
            ThreePointArc((-6.257379, 39.507534), (-3.775924, 39.821381), (-1.279706, 39.979524))
            Line((-1.279706, 39.979524), (-6.726682, 42.470599))
            Line((-6.726682, 42.470599), (-6.257379, 39.507534))
        make_face()
        with BuildLine():
            ThreePointArc((-12.36068, 38.042261), (-9.958873, 38.740429), (-7.518126, 39.28712))
            Line((-7.518126, 39.28712), (-13.287731, 40.89543))
            Line((-13.287731, 40.89543), (-12.36068, 38.042261))
        make_face()
        with BuildLine():
            ThreePointArc((-18.15962, 35.640261), (-15.896601, 36.705559), (-13.571425, 37.627336))
            Line((-13.571425, 37.627336), (-19.521591, 38.313281))
            Line((-19.521591, 38.313281), (-18.15962, 35.640261))
        make_face()
        with BuildLine():
            Line((43, 0), (40, 0))
            ThreePointArc((40, 0), (39.921799, -2.5), (39.6875, -4.990225))
            Line((39.6875, -4.990225), (43, 0))
        make_face()
        with BuildLine():
            Line((-34.787731, -25.274766), (-32.36068, -23.51141))
            ThreePointArc((-32.36068, -23.51141), (-33.766877, -21.442902), (-35.041043, -19.290551))
            Line((-35.041043, -19.290551), (-34.787731, -25.274766))
        make_face()
        with BuildLine():
            ThreePointArc((-38.042261, 12.36068), (-37.195344, 14.714155), (-36.202991, 17.010098))
            Line((-36.202991, 17.010098), (-40.89543, 13.287731))
            Line((-40.89543, 13.287731), (-38.042261, 12.36068))
        make_face()
        with BuildLine():
            Line((25.274766, -34.787731), (23.51141, -32.36068))
            ThreePointArc((23.51141, -32.36068), (21.442902, -33.766877), (19.290551, -35.041043))
            Line((19.290551, -35.041043), (25.274766, -34.787731))
        make_face()
        with BuildLine():
            Line((-30.405592, -30.405592), (-28.284271, -28.284271))
            ThreePointArc((-28.284271, -28.284271), (-29.996741, -26.461208), (-31.591922, -24.534679))
            Line((-31.591922, -24.534679), (-30.405592, -30.405592))
        make_face()
        with BuildLine():
            ThreePointArc((-39.507534, 6.257379), (-39.039209, 8.714366), (-38.418238, 11.13728))
            Line((-38.418238, 11.13728), (-42.470599, 6.726682))
            Line((-42.470599, 6.726682), (-39.507534, 6.257379))
        make_face()
        with BuildLine():
            Line((30.405592, -30.405592), (28.284271, -28.284271))
            ThreePointArc((28.284271, -28.284271), (26.461208, -29.996741), (24.534679, -31.591922))
            Line((24.534679, -31.591922), (30.405592, -30.405592))
        make_face()
        with BuildLine():
            Line((13.287731, -40.89543), (12.36068, -38.042261))
            ThreePointArc((12.36068, -38.042261), (9.958873, -38.740429), (7.518126, -39.28712))
            Line((7.518126, -39.28712), (13.287731, -40.89543))
        make_face()
        with BuildLine():
            Line((-25.274766, -34.787731), (-23.51141, -32.36068))
            ThreePointArc((-23.51141, -32.36068), (-25.487987, -30.82795), (-27.364904, -29.174681))
            Line((-27.364904, -29.174681), (-25.274766, -34.787731))
        make_face()
    extrude(amount=F1_DEPTH)


solid = f1.part
